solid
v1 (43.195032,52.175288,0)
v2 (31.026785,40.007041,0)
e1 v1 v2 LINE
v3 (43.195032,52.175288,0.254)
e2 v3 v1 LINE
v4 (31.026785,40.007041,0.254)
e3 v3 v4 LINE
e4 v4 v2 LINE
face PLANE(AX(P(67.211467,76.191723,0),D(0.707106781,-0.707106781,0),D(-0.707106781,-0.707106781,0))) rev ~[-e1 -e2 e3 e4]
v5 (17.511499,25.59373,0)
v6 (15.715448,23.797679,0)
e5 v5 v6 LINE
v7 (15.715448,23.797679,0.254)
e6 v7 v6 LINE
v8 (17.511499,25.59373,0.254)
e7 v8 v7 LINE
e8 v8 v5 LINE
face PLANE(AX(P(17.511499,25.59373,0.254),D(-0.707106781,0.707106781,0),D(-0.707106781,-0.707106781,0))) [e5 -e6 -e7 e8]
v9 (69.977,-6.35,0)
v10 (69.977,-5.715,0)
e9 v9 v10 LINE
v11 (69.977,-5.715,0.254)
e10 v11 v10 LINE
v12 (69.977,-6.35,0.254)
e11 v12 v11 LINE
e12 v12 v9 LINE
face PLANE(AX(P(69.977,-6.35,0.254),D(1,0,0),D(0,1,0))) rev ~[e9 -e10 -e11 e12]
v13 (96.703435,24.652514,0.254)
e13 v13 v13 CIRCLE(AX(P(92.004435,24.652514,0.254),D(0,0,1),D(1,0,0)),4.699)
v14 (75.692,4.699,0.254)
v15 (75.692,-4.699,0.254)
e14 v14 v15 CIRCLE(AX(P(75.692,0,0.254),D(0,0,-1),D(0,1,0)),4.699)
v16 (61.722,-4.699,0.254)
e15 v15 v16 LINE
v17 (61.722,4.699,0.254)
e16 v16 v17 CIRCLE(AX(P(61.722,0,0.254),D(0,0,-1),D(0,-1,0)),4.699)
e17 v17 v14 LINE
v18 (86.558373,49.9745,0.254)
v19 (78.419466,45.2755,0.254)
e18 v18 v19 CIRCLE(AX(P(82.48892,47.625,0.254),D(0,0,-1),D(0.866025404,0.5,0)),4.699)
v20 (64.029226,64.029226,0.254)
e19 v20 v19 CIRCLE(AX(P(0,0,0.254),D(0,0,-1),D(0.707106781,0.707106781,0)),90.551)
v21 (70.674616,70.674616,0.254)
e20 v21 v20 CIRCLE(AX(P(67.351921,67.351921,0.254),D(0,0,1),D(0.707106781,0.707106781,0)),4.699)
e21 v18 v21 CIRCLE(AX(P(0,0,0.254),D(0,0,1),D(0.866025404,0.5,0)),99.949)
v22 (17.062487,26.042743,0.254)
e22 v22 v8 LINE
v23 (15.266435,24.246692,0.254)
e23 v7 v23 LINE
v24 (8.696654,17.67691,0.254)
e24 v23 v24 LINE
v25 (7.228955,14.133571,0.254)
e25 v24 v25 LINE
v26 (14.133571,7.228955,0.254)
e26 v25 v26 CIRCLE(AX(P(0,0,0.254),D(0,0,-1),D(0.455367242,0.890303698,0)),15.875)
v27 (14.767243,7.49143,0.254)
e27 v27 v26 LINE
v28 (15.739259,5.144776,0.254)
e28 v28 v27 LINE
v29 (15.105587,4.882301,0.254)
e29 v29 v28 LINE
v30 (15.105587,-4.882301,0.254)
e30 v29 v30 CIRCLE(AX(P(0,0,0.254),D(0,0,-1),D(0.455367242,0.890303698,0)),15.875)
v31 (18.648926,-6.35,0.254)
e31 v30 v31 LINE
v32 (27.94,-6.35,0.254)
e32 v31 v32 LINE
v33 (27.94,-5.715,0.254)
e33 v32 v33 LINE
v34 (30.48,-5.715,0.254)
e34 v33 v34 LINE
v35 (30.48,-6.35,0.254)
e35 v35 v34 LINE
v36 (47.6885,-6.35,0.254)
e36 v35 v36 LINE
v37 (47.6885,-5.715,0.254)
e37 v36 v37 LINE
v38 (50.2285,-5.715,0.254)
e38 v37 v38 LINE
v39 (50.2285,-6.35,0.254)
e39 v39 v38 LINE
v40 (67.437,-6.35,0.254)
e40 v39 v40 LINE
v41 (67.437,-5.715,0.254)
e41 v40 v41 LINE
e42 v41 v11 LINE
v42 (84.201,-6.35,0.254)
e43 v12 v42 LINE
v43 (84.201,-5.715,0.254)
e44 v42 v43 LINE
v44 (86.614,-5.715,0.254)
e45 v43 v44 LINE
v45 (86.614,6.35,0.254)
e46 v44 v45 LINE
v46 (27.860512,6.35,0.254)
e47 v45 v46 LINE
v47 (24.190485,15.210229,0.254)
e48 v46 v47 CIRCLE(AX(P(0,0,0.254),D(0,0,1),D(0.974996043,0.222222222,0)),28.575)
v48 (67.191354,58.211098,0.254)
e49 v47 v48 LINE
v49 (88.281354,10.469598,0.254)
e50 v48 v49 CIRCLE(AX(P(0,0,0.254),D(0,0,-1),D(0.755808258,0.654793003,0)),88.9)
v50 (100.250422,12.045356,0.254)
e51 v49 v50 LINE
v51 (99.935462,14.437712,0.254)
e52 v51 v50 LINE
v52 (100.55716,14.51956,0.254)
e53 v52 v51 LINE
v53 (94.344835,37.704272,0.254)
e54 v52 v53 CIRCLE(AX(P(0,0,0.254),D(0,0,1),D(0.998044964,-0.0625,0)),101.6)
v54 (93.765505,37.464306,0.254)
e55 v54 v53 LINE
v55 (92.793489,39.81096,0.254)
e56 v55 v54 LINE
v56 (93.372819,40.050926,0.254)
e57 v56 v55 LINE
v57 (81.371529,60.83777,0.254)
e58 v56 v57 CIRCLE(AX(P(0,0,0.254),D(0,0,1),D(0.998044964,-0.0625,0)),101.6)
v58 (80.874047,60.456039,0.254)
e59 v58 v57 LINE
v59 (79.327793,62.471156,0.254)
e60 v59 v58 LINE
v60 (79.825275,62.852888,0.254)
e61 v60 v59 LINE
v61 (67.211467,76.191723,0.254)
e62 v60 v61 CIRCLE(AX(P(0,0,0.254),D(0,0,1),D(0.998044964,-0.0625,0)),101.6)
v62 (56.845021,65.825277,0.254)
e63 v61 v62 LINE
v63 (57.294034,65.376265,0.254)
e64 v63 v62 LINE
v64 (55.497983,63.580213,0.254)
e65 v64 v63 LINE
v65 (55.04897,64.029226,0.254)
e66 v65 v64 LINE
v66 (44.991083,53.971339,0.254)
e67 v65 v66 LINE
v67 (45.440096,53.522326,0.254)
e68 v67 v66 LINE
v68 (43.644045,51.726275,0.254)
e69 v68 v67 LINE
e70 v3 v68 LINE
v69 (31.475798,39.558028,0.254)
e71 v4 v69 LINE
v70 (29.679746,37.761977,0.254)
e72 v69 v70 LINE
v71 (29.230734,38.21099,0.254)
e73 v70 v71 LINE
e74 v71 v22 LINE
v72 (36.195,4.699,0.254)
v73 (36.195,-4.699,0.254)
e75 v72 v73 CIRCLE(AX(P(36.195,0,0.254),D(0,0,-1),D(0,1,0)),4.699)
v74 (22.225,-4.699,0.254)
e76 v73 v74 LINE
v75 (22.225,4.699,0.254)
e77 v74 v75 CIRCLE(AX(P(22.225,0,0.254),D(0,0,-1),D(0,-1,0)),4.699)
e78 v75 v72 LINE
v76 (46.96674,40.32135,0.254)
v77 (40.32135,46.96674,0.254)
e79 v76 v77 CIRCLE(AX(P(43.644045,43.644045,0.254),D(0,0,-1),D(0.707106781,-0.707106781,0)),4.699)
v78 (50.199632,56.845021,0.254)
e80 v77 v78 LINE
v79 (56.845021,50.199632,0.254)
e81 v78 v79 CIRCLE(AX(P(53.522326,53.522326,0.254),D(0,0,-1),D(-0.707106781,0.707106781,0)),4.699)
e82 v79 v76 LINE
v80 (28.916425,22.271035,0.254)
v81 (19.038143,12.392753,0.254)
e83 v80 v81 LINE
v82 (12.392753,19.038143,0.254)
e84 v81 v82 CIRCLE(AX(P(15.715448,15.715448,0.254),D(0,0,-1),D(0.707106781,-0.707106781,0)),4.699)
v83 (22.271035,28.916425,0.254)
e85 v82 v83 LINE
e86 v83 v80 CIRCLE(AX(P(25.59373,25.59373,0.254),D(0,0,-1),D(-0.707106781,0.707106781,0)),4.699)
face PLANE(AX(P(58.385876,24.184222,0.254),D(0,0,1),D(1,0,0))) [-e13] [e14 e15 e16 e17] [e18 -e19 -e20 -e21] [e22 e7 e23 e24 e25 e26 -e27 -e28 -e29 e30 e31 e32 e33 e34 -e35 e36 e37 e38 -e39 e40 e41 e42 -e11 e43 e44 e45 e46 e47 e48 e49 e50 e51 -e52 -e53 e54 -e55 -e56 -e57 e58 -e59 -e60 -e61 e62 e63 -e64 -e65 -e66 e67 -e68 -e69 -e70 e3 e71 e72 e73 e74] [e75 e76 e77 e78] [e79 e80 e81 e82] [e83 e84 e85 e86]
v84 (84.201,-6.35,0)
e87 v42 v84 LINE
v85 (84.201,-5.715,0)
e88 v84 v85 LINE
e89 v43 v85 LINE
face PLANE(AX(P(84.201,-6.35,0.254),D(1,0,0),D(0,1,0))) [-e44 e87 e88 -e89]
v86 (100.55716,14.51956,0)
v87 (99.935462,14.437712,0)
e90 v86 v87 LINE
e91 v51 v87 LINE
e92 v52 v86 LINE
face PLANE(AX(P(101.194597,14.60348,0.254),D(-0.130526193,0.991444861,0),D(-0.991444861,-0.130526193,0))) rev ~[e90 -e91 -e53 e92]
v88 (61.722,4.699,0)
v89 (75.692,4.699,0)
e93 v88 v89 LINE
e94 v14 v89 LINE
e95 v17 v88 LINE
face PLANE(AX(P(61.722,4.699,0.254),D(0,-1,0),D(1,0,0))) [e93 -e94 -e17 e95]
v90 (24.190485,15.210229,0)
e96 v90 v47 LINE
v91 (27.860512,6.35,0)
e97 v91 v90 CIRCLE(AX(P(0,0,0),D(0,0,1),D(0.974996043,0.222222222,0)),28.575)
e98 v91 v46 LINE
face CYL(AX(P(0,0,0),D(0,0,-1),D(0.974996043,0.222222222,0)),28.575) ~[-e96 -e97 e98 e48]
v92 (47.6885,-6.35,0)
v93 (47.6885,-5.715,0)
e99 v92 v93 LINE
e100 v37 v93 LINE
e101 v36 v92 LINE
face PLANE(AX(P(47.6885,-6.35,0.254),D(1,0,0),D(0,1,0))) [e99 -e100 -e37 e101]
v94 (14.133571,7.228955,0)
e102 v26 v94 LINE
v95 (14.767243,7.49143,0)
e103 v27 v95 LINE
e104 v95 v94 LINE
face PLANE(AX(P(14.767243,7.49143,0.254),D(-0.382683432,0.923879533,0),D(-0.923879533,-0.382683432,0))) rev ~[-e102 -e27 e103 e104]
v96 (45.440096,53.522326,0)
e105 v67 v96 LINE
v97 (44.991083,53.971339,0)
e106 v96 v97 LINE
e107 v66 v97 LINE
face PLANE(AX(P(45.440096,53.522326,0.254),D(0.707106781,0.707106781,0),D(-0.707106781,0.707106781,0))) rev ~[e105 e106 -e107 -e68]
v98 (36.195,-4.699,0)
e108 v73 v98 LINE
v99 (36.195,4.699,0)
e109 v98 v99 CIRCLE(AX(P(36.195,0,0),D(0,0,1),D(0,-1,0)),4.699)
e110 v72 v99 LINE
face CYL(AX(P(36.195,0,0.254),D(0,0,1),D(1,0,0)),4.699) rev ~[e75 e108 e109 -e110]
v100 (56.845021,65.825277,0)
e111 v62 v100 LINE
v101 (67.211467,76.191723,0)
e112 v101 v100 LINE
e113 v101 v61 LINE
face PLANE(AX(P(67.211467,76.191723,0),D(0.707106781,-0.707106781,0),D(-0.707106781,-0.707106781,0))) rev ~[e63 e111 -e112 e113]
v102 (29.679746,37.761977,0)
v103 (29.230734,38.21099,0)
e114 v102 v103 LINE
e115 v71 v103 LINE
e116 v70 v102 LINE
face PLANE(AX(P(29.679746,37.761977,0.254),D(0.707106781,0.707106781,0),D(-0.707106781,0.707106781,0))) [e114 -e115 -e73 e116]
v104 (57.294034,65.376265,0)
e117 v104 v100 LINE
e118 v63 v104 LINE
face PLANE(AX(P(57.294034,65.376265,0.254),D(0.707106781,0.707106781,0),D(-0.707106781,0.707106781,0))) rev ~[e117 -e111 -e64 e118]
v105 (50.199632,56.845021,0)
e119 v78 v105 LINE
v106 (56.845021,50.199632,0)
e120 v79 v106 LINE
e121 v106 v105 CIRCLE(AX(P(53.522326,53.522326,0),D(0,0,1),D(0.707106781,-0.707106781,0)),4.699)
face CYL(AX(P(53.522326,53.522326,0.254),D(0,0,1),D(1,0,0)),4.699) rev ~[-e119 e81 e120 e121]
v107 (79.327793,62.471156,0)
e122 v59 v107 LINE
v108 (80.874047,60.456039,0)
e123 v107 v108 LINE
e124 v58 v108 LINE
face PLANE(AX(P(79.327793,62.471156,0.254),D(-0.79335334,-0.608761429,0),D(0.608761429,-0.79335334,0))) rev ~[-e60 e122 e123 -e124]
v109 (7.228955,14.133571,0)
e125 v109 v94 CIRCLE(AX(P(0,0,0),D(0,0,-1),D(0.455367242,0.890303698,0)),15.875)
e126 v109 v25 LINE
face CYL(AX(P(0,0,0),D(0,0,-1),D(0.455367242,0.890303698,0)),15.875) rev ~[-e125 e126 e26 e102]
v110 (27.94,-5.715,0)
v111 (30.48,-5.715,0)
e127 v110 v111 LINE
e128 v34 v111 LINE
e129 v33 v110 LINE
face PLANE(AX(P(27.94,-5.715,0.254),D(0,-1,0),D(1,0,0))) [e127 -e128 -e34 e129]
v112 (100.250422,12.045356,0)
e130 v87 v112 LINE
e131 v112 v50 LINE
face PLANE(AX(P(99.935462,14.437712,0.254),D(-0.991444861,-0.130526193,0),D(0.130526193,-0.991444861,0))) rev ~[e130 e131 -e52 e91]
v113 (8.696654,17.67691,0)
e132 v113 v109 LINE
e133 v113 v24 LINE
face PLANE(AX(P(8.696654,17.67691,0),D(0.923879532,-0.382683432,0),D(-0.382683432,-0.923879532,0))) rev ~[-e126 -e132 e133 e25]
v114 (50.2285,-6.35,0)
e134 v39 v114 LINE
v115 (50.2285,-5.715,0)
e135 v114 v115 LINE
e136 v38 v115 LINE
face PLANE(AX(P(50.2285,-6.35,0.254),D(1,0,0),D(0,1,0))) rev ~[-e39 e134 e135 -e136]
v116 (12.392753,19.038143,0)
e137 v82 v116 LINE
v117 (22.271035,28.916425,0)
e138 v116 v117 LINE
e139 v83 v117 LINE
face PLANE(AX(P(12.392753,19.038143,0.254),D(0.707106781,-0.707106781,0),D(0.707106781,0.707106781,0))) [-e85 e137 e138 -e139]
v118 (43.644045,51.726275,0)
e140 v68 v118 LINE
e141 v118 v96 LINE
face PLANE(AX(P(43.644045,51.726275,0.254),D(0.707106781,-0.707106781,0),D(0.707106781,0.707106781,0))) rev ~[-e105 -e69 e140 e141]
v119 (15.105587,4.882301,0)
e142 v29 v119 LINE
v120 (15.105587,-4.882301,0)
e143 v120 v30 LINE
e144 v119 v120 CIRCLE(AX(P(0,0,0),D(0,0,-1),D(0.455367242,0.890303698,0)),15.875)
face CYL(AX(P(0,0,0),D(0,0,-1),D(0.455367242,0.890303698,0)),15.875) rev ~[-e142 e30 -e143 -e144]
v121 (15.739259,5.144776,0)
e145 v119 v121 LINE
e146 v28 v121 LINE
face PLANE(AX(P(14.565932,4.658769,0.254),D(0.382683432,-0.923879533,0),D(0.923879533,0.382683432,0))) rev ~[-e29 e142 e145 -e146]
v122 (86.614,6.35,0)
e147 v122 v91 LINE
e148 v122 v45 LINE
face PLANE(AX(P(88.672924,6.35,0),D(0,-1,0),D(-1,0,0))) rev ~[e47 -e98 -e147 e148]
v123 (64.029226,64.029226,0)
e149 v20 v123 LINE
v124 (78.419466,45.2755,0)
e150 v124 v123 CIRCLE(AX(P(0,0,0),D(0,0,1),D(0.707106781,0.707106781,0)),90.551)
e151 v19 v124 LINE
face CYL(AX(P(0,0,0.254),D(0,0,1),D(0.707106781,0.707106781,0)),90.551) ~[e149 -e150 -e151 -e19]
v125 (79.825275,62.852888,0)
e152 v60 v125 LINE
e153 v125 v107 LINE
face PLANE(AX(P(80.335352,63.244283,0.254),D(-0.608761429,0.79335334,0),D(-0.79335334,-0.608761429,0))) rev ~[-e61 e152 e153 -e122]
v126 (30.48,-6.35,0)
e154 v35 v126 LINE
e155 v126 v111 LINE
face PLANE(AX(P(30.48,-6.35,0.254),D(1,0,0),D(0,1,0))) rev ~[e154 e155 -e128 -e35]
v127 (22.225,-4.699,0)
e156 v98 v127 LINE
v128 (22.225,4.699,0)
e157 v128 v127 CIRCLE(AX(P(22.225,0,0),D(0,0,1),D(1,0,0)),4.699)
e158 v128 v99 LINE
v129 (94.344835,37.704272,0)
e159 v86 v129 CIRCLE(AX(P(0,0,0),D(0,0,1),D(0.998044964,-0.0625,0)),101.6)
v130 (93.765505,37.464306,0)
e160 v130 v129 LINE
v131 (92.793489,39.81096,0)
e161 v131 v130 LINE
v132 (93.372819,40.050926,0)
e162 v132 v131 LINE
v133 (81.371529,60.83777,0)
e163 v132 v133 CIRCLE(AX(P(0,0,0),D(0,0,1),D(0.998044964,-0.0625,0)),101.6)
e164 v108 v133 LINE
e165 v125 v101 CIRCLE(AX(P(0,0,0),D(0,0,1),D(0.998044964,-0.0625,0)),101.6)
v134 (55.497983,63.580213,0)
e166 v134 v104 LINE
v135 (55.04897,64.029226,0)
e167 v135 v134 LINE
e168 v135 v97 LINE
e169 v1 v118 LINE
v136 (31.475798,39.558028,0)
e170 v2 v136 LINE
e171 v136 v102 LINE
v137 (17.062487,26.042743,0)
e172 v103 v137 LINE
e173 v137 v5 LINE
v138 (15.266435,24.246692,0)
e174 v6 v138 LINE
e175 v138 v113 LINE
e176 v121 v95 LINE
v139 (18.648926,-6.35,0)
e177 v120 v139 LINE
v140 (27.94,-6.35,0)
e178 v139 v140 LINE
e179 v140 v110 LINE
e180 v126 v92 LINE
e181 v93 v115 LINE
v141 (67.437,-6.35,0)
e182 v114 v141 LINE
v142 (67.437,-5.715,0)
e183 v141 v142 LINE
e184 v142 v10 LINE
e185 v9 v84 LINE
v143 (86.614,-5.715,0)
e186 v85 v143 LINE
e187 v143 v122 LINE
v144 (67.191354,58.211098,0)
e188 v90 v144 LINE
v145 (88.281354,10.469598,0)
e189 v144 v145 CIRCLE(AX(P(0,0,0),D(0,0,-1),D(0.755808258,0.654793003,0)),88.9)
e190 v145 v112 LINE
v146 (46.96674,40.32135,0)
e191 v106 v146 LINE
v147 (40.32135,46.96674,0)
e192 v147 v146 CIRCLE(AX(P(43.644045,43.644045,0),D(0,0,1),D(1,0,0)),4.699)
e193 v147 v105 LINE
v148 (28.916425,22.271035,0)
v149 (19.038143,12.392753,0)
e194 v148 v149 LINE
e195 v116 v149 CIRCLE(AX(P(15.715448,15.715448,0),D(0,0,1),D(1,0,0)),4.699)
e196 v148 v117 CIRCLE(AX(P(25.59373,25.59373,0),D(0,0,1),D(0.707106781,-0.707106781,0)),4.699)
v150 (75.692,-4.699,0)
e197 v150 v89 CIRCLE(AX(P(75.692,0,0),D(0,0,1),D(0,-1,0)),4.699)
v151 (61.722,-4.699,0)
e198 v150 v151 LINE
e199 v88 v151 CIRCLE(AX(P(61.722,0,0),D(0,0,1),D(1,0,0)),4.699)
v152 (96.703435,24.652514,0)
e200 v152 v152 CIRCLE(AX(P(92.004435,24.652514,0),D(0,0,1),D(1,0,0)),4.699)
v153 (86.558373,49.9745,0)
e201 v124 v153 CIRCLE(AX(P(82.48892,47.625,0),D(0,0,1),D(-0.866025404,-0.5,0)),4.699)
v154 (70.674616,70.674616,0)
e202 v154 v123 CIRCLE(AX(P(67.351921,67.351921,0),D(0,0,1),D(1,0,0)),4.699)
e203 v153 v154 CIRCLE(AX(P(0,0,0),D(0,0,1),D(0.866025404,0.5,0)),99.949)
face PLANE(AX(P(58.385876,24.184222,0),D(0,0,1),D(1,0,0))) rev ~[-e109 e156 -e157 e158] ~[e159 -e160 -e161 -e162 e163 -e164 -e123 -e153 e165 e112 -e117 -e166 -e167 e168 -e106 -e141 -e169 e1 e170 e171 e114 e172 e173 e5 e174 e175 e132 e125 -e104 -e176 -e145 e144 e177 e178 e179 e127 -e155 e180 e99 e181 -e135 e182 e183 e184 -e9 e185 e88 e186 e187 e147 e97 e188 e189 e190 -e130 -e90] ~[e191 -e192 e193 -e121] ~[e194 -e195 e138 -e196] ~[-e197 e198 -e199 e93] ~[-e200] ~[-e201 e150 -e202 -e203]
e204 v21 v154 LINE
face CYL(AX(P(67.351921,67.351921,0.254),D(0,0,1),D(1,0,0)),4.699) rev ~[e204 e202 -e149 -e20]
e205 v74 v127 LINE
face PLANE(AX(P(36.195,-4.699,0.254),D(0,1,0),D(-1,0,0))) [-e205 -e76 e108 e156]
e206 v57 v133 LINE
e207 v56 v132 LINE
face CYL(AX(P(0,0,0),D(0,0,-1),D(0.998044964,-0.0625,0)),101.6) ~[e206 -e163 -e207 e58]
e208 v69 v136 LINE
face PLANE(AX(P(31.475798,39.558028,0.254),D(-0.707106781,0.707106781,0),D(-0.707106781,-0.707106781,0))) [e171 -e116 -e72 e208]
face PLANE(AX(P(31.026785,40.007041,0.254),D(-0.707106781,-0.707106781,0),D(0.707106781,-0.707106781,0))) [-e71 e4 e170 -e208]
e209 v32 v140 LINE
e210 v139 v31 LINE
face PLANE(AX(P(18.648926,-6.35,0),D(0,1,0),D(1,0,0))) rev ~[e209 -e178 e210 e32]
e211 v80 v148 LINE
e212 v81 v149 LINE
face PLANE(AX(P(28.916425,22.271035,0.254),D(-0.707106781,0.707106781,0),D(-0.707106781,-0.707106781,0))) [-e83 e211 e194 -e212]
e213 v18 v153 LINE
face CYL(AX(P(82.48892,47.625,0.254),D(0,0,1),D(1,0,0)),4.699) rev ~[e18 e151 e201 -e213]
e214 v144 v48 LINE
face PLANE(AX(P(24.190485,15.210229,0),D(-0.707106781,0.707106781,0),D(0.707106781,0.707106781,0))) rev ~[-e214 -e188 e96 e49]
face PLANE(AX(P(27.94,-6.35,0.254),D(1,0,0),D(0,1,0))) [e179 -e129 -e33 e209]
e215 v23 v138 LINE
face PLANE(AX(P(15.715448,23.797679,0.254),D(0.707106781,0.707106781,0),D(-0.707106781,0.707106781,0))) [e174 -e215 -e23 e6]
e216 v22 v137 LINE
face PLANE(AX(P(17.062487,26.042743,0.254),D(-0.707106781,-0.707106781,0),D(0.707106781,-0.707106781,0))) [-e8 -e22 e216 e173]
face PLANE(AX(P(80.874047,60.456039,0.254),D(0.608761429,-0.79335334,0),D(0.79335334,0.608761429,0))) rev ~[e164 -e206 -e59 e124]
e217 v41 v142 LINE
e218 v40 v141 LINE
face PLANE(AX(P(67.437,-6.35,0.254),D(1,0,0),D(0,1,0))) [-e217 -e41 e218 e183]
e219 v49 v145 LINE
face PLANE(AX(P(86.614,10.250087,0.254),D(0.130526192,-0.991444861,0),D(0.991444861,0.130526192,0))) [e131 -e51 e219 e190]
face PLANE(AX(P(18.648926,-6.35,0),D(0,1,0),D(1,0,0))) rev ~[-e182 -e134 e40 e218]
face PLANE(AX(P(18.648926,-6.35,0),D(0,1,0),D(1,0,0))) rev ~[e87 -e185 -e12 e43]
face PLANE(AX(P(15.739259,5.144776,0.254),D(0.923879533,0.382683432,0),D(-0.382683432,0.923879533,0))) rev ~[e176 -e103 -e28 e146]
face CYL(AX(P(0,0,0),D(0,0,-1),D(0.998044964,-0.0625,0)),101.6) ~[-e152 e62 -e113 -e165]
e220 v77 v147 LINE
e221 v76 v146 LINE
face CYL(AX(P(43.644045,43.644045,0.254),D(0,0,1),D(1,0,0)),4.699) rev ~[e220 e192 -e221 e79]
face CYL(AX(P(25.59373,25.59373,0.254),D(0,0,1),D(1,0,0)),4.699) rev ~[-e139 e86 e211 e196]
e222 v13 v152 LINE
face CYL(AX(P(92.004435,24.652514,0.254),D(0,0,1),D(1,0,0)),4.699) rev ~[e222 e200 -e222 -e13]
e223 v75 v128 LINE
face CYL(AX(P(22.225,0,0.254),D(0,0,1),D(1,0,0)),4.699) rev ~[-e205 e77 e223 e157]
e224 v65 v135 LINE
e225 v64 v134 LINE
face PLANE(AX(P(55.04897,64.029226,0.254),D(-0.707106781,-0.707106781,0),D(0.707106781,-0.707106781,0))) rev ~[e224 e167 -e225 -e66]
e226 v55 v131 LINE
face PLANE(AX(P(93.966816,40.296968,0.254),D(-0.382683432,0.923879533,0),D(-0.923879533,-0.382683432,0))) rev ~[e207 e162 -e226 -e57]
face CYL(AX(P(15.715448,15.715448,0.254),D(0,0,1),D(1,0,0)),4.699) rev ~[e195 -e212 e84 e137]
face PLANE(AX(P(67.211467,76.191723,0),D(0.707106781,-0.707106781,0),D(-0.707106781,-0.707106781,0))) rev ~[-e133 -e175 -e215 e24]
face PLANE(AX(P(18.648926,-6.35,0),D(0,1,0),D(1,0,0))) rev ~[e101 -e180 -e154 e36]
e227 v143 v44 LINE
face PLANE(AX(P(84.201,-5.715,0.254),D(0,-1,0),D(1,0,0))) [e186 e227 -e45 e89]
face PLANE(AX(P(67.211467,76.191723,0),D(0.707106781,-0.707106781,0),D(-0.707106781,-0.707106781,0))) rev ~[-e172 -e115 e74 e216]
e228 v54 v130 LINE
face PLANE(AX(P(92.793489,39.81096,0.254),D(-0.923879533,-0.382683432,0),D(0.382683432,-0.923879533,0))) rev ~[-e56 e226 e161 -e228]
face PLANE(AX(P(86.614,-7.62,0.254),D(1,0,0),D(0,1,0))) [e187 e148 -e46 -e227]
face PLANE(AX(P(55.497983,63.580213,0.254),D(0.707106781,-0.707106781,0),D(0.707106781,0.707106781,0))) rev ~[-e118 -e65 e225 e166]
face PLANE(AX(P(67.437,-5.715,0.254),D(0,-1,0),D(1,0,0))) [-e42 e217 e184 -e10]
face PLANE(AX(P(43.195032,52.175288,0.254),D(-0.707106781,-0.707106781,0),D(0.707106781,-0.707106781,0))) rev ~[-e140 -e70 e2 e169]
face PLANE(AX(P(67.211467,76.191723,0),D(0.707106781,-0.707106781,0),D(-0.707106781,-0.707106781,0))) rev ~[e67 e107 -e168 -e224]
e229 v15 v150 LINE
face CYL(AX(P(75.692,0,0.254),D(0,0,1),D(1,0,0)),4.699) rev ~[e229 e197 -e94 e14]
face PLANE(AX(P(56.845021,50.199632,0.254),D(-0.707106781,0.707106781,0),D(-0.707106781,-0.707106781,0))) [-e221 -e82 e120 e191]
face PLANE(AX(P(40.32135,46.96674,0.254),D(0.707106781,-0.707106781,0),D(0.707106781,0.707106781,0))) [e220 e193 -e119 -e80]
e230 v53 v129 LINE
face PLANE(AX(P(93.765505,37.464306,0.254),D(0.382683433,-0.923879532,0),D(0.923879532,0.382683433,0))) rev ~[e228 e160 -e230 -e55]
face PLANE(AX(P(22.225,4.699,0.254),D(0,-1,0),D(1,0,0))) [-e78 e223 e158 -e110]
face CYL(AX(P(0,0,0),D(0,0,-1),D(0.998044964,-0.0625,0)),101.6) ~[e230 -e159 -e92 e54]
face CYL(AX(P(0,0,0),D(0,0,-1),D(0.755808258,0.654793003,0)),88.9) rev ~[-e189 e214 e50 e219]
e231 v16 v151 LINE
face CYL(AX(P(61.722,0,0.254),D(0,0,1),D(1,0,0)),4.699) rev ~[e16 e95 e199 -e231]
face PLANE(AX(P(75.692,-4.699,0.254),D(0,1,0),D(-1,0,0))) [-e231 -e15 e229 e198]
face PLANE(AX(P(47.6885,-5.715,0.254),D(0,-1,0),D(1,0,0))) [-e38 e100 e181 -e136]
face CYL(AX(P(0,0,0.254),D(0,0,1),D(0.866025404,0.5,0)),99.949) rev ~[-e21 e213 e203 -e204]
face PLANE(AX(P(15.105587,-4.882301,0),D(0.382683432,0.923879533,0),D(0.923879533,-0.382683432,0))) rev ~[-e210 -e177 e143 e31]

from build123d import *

# Parameters (mm, degrees)
BOSS_EXTRUDE1_DEPTH = 0.254
SKETCH2_R           = 4.699
CUT_EXTRUDE1_DEPTH  = 1.254
SKETCH3_W           = 2.54
SKETCH3_H           = 0.635
CUT_EXTRUDE2_DEPTH  = 1.254
CUT_EXTRUDE4_DEPTH  = 1.254
CUT_EXTRUDE5_DEPTH  = 1.254


with BuildPart() as part:
    # Sketch1 → Boss-Extrude1 (new body)
    with BuildSketch(Plane.XY):
        with BuildLine():
            Line((67.21146711, 76.191723231), (8.696654013, 17.676910134))
            Line((8.696654013, 17.676910134), (7.228954972, 14.133571205))
            ThreePointArc((7.228954972, 14.133571205), (14.666587579, 6.075099489), (15.105587123, -4.88230096))
            Line((15.105587123, -4.88230096), (18.648926052, -6.35))
            Line((18.648926052, -6.35), (101.401368334, -6.35))
            ThreePointArc((101.401368334, -6.35), (93.866160503, 38.880636728), (67.21146711, 76.191723231))
        make_face()
        with BuildLine():
            Line((88.672924278, 6.35), (27.86051193, 6.35))
            ThreePointArc((27.86051193, 6.35), (26.399857642, 10.93517908), (24.190484974, 15.210228852))
            Line((24.190484974, 15.210228852), (67.191354125, 58.211098004))
            ThreePointArc((67.191354125, 58.211098004), (82.13289044, 34.020557137), (88.672924278, 6.35))
        make_face(mode=Mode.SUBTRACT)
    extrude(amount=BOSS_EXTRUDE1_DEPTH)

    # Sketch2 → Cut-Extrude1 (cut, through all)
    with BuildSketch(Plane.XY.offset(0.254)):
        with Locations((22.225, 0)):
            Circle(SKETCH2_R)
        with Locations((36.195, 0)):
            Circle(SKETCH2_R)
        with Locations((61.722, 0)):
            Circle(SKETCH2_R)
        with Locations((75.692, 0)):
            Circle(SKETCH2_R)
        with Locations((95.25, 0)):
            Circle(SKETCH2_R)
        with Locations((15.715448212, 15.715448212)):
            Circle(SKETCH2_R)
        with Locations((25.593729945, 25.593729945)):
            Circle(SKETCH2_R)
        with Locations((43.644044748, 43.644044748)):
            Circle(SKETCH2_R)
        with Locations((53.522326482, 53.522326482)):
            Circle(SKETCH2_R)
        with Locations((92.004434954, 24.652514046)):
            Circle(SKETCH2_R)
        with Locations((82.48891971, 47.625)):
            Circle(SKETCH2_R)
        with Locations((67.351920908, 67.351920908)):
            Circle(SKETCH2_R)
    extrude(amount=-CUT_EXTRUDE1_DEPTH, mode=Mode.SUBTRACT)

    # Sketch3 → Cut-Extrude2 (cut, through all)
    with BuildSketch(Plane.XY.offset(0.254)):
        Polygon((15.266435406, 24.246691527), (17.06248663, 26.042742751), (17.511499436, 25.593729945), (15.715448212, 23.797678721), align=None)
        Polygon((44.991083167, 53.971339288), (43.195031942, 52.175288063), (43.644044748, 51.726275257), (45.440095973, 53.522326482), align=None)
        with Locations((29.21, -6.0325)):
            Rectangle(SKETCH3_W, SKETCH3_H)
        with Locations((68.707, -6.0325)):
            Rectangle(SKETCH3_W, SKETCH3_H)
        Polygon((29.230733674, 38.210989795), (31.026784898, 40.007041019), (31.475797704, 39.558028213), (29.67974648, 37.761976989), align=None)
        Polygon((56.845021246, 65.825277367), (55.048970022, 64.029226143), (55.497982828, 63.580213337), (57.294034052, 65.376264561), align=None)
        with Locations((48.9585, -6.0325)):
            Rectangle(SKETCH3_W, SKETCH3_H)
        with Locations((85.471, -6.0325)):
            Rectangle(SKETCH3_W, SKETCH3_H)
        Polygon((99.935462164, 14.437711971), (100.266998693, 11.919442024), (101.526133667, 12.085210288), (101.194597138, 14.603480236), align=None)
        Polygon((93.765504959, 37.464305742), (94.938831965, 37.950313702), (93.966816047, 40.296967714), (92.793489041, 39.810959755), align=None)
        Polygon((79.327792988, 62.471156422), (80.874047017, 60.456038938), (81.88160576, 61.229165953), (80.33535173, 63.244283437), align=None)
        Polygon((13.593916116, 7.005422516), (14.565932035, 4.658768503), (15.739259041, 5.144776462), (14.767243123, 7.491430475), align=None)
    extrude(amount=-CUT_EXTRUDE2_DEPTH, mode=Mode.SUBTRACT)

    # Sketch6 → Cut-Extrude4 (cut, through all)
    with BuildSketch(Plane.XY.offset(0.254)):
        with BuildLine():
            Line((12.392753447, 19.038142977), (22.27103518, 28.91642471))
            ThreePointArc((22.27103518, 28.91642471), (28.91642471, 28.91642471), (28.91642471, 22.27103518))
            Line((28.91642471, 22.27103518), (19.038142977, 12.392753447))
            ThreePointArc((19.038142977, 12.392753447), (12.392753447, 12.392753447), (12.392753447, 19.038142977))
        make_face()
        with BuildLine():
            Line((40.321349984, 46.966739513), (50.199631717, 56.845021246))
            ThreePointArc((50.199631717, 56.845021246), (56.845021246, 56.845021246), (56.845021246, 50.199631717))
            Line((56.845021246, 50.199631717), (46.966739513, 40.321349984))
            ThreePointArc((46.966739513, 40.321349984), (40.321349984, 40.321349984), (40.321349984, 46.966739513))
        make_face()
        with BuildLine():
            Line((22.225, 4.699), (36.195, 4.699))
            ThreePointArc((36.195, 4.699), (40.894, 0), (36.195, -4.699))
            Line((36.195, -4.699), (22.225, -4.699))
            ThreePointArc((22.225, -4.699), (17.526, 0), (22.225, 4.699))
        make_face()
        with BuildLine():
            Line((61.722, 4.699), (75.692, 4.699))
            ThreePointArc((75.692, 4.699), (80.391, 0), (75.692, -4.699))
            Line((75.692, -4.699), (61.722, -4.699))
            ThreePointArc((61.722, -4.699), (57.023, 0), (61.722, 4.699))
        make_face()
        with BuildLine():
            ThreePointArc((86.558373083, 49.9745), (79.294873009, 60.845096068), (70.674615673, 70.674615673))
            ThreePointArc((70.674615673, 70.674615673), (64.029226143, 70.674615673), (64.029226143, 64.029226143))
            ThreePointArc((64.029226143, 64.029226143), (71.838938317, 55.123956158), (78.419466338, 45.2755))
            ThreePointArc((78.419466338, 45.2755), (84.83841971, 43.555546628), (86.558373083, 49.9745))
        make_face()
    extrude(amount=-CUT_EXTRUDE4_DEPTH, mode=Mode.SUBTRACT)

    # Sketch5 → Cut-Extrude5 (cut, through all)
    with BuildSketch(Plane.XY.offset(0.254)):
        Polygon((86.614, -7.62), (86.614, 10.250086524), (102.87, 12.390229525), (102.87, -7.62), align=None)
    extrude(amount=-CUT_EXTRUDE5_DEPTH, mode=Mode.SUBTRACT)


solid = part.part
